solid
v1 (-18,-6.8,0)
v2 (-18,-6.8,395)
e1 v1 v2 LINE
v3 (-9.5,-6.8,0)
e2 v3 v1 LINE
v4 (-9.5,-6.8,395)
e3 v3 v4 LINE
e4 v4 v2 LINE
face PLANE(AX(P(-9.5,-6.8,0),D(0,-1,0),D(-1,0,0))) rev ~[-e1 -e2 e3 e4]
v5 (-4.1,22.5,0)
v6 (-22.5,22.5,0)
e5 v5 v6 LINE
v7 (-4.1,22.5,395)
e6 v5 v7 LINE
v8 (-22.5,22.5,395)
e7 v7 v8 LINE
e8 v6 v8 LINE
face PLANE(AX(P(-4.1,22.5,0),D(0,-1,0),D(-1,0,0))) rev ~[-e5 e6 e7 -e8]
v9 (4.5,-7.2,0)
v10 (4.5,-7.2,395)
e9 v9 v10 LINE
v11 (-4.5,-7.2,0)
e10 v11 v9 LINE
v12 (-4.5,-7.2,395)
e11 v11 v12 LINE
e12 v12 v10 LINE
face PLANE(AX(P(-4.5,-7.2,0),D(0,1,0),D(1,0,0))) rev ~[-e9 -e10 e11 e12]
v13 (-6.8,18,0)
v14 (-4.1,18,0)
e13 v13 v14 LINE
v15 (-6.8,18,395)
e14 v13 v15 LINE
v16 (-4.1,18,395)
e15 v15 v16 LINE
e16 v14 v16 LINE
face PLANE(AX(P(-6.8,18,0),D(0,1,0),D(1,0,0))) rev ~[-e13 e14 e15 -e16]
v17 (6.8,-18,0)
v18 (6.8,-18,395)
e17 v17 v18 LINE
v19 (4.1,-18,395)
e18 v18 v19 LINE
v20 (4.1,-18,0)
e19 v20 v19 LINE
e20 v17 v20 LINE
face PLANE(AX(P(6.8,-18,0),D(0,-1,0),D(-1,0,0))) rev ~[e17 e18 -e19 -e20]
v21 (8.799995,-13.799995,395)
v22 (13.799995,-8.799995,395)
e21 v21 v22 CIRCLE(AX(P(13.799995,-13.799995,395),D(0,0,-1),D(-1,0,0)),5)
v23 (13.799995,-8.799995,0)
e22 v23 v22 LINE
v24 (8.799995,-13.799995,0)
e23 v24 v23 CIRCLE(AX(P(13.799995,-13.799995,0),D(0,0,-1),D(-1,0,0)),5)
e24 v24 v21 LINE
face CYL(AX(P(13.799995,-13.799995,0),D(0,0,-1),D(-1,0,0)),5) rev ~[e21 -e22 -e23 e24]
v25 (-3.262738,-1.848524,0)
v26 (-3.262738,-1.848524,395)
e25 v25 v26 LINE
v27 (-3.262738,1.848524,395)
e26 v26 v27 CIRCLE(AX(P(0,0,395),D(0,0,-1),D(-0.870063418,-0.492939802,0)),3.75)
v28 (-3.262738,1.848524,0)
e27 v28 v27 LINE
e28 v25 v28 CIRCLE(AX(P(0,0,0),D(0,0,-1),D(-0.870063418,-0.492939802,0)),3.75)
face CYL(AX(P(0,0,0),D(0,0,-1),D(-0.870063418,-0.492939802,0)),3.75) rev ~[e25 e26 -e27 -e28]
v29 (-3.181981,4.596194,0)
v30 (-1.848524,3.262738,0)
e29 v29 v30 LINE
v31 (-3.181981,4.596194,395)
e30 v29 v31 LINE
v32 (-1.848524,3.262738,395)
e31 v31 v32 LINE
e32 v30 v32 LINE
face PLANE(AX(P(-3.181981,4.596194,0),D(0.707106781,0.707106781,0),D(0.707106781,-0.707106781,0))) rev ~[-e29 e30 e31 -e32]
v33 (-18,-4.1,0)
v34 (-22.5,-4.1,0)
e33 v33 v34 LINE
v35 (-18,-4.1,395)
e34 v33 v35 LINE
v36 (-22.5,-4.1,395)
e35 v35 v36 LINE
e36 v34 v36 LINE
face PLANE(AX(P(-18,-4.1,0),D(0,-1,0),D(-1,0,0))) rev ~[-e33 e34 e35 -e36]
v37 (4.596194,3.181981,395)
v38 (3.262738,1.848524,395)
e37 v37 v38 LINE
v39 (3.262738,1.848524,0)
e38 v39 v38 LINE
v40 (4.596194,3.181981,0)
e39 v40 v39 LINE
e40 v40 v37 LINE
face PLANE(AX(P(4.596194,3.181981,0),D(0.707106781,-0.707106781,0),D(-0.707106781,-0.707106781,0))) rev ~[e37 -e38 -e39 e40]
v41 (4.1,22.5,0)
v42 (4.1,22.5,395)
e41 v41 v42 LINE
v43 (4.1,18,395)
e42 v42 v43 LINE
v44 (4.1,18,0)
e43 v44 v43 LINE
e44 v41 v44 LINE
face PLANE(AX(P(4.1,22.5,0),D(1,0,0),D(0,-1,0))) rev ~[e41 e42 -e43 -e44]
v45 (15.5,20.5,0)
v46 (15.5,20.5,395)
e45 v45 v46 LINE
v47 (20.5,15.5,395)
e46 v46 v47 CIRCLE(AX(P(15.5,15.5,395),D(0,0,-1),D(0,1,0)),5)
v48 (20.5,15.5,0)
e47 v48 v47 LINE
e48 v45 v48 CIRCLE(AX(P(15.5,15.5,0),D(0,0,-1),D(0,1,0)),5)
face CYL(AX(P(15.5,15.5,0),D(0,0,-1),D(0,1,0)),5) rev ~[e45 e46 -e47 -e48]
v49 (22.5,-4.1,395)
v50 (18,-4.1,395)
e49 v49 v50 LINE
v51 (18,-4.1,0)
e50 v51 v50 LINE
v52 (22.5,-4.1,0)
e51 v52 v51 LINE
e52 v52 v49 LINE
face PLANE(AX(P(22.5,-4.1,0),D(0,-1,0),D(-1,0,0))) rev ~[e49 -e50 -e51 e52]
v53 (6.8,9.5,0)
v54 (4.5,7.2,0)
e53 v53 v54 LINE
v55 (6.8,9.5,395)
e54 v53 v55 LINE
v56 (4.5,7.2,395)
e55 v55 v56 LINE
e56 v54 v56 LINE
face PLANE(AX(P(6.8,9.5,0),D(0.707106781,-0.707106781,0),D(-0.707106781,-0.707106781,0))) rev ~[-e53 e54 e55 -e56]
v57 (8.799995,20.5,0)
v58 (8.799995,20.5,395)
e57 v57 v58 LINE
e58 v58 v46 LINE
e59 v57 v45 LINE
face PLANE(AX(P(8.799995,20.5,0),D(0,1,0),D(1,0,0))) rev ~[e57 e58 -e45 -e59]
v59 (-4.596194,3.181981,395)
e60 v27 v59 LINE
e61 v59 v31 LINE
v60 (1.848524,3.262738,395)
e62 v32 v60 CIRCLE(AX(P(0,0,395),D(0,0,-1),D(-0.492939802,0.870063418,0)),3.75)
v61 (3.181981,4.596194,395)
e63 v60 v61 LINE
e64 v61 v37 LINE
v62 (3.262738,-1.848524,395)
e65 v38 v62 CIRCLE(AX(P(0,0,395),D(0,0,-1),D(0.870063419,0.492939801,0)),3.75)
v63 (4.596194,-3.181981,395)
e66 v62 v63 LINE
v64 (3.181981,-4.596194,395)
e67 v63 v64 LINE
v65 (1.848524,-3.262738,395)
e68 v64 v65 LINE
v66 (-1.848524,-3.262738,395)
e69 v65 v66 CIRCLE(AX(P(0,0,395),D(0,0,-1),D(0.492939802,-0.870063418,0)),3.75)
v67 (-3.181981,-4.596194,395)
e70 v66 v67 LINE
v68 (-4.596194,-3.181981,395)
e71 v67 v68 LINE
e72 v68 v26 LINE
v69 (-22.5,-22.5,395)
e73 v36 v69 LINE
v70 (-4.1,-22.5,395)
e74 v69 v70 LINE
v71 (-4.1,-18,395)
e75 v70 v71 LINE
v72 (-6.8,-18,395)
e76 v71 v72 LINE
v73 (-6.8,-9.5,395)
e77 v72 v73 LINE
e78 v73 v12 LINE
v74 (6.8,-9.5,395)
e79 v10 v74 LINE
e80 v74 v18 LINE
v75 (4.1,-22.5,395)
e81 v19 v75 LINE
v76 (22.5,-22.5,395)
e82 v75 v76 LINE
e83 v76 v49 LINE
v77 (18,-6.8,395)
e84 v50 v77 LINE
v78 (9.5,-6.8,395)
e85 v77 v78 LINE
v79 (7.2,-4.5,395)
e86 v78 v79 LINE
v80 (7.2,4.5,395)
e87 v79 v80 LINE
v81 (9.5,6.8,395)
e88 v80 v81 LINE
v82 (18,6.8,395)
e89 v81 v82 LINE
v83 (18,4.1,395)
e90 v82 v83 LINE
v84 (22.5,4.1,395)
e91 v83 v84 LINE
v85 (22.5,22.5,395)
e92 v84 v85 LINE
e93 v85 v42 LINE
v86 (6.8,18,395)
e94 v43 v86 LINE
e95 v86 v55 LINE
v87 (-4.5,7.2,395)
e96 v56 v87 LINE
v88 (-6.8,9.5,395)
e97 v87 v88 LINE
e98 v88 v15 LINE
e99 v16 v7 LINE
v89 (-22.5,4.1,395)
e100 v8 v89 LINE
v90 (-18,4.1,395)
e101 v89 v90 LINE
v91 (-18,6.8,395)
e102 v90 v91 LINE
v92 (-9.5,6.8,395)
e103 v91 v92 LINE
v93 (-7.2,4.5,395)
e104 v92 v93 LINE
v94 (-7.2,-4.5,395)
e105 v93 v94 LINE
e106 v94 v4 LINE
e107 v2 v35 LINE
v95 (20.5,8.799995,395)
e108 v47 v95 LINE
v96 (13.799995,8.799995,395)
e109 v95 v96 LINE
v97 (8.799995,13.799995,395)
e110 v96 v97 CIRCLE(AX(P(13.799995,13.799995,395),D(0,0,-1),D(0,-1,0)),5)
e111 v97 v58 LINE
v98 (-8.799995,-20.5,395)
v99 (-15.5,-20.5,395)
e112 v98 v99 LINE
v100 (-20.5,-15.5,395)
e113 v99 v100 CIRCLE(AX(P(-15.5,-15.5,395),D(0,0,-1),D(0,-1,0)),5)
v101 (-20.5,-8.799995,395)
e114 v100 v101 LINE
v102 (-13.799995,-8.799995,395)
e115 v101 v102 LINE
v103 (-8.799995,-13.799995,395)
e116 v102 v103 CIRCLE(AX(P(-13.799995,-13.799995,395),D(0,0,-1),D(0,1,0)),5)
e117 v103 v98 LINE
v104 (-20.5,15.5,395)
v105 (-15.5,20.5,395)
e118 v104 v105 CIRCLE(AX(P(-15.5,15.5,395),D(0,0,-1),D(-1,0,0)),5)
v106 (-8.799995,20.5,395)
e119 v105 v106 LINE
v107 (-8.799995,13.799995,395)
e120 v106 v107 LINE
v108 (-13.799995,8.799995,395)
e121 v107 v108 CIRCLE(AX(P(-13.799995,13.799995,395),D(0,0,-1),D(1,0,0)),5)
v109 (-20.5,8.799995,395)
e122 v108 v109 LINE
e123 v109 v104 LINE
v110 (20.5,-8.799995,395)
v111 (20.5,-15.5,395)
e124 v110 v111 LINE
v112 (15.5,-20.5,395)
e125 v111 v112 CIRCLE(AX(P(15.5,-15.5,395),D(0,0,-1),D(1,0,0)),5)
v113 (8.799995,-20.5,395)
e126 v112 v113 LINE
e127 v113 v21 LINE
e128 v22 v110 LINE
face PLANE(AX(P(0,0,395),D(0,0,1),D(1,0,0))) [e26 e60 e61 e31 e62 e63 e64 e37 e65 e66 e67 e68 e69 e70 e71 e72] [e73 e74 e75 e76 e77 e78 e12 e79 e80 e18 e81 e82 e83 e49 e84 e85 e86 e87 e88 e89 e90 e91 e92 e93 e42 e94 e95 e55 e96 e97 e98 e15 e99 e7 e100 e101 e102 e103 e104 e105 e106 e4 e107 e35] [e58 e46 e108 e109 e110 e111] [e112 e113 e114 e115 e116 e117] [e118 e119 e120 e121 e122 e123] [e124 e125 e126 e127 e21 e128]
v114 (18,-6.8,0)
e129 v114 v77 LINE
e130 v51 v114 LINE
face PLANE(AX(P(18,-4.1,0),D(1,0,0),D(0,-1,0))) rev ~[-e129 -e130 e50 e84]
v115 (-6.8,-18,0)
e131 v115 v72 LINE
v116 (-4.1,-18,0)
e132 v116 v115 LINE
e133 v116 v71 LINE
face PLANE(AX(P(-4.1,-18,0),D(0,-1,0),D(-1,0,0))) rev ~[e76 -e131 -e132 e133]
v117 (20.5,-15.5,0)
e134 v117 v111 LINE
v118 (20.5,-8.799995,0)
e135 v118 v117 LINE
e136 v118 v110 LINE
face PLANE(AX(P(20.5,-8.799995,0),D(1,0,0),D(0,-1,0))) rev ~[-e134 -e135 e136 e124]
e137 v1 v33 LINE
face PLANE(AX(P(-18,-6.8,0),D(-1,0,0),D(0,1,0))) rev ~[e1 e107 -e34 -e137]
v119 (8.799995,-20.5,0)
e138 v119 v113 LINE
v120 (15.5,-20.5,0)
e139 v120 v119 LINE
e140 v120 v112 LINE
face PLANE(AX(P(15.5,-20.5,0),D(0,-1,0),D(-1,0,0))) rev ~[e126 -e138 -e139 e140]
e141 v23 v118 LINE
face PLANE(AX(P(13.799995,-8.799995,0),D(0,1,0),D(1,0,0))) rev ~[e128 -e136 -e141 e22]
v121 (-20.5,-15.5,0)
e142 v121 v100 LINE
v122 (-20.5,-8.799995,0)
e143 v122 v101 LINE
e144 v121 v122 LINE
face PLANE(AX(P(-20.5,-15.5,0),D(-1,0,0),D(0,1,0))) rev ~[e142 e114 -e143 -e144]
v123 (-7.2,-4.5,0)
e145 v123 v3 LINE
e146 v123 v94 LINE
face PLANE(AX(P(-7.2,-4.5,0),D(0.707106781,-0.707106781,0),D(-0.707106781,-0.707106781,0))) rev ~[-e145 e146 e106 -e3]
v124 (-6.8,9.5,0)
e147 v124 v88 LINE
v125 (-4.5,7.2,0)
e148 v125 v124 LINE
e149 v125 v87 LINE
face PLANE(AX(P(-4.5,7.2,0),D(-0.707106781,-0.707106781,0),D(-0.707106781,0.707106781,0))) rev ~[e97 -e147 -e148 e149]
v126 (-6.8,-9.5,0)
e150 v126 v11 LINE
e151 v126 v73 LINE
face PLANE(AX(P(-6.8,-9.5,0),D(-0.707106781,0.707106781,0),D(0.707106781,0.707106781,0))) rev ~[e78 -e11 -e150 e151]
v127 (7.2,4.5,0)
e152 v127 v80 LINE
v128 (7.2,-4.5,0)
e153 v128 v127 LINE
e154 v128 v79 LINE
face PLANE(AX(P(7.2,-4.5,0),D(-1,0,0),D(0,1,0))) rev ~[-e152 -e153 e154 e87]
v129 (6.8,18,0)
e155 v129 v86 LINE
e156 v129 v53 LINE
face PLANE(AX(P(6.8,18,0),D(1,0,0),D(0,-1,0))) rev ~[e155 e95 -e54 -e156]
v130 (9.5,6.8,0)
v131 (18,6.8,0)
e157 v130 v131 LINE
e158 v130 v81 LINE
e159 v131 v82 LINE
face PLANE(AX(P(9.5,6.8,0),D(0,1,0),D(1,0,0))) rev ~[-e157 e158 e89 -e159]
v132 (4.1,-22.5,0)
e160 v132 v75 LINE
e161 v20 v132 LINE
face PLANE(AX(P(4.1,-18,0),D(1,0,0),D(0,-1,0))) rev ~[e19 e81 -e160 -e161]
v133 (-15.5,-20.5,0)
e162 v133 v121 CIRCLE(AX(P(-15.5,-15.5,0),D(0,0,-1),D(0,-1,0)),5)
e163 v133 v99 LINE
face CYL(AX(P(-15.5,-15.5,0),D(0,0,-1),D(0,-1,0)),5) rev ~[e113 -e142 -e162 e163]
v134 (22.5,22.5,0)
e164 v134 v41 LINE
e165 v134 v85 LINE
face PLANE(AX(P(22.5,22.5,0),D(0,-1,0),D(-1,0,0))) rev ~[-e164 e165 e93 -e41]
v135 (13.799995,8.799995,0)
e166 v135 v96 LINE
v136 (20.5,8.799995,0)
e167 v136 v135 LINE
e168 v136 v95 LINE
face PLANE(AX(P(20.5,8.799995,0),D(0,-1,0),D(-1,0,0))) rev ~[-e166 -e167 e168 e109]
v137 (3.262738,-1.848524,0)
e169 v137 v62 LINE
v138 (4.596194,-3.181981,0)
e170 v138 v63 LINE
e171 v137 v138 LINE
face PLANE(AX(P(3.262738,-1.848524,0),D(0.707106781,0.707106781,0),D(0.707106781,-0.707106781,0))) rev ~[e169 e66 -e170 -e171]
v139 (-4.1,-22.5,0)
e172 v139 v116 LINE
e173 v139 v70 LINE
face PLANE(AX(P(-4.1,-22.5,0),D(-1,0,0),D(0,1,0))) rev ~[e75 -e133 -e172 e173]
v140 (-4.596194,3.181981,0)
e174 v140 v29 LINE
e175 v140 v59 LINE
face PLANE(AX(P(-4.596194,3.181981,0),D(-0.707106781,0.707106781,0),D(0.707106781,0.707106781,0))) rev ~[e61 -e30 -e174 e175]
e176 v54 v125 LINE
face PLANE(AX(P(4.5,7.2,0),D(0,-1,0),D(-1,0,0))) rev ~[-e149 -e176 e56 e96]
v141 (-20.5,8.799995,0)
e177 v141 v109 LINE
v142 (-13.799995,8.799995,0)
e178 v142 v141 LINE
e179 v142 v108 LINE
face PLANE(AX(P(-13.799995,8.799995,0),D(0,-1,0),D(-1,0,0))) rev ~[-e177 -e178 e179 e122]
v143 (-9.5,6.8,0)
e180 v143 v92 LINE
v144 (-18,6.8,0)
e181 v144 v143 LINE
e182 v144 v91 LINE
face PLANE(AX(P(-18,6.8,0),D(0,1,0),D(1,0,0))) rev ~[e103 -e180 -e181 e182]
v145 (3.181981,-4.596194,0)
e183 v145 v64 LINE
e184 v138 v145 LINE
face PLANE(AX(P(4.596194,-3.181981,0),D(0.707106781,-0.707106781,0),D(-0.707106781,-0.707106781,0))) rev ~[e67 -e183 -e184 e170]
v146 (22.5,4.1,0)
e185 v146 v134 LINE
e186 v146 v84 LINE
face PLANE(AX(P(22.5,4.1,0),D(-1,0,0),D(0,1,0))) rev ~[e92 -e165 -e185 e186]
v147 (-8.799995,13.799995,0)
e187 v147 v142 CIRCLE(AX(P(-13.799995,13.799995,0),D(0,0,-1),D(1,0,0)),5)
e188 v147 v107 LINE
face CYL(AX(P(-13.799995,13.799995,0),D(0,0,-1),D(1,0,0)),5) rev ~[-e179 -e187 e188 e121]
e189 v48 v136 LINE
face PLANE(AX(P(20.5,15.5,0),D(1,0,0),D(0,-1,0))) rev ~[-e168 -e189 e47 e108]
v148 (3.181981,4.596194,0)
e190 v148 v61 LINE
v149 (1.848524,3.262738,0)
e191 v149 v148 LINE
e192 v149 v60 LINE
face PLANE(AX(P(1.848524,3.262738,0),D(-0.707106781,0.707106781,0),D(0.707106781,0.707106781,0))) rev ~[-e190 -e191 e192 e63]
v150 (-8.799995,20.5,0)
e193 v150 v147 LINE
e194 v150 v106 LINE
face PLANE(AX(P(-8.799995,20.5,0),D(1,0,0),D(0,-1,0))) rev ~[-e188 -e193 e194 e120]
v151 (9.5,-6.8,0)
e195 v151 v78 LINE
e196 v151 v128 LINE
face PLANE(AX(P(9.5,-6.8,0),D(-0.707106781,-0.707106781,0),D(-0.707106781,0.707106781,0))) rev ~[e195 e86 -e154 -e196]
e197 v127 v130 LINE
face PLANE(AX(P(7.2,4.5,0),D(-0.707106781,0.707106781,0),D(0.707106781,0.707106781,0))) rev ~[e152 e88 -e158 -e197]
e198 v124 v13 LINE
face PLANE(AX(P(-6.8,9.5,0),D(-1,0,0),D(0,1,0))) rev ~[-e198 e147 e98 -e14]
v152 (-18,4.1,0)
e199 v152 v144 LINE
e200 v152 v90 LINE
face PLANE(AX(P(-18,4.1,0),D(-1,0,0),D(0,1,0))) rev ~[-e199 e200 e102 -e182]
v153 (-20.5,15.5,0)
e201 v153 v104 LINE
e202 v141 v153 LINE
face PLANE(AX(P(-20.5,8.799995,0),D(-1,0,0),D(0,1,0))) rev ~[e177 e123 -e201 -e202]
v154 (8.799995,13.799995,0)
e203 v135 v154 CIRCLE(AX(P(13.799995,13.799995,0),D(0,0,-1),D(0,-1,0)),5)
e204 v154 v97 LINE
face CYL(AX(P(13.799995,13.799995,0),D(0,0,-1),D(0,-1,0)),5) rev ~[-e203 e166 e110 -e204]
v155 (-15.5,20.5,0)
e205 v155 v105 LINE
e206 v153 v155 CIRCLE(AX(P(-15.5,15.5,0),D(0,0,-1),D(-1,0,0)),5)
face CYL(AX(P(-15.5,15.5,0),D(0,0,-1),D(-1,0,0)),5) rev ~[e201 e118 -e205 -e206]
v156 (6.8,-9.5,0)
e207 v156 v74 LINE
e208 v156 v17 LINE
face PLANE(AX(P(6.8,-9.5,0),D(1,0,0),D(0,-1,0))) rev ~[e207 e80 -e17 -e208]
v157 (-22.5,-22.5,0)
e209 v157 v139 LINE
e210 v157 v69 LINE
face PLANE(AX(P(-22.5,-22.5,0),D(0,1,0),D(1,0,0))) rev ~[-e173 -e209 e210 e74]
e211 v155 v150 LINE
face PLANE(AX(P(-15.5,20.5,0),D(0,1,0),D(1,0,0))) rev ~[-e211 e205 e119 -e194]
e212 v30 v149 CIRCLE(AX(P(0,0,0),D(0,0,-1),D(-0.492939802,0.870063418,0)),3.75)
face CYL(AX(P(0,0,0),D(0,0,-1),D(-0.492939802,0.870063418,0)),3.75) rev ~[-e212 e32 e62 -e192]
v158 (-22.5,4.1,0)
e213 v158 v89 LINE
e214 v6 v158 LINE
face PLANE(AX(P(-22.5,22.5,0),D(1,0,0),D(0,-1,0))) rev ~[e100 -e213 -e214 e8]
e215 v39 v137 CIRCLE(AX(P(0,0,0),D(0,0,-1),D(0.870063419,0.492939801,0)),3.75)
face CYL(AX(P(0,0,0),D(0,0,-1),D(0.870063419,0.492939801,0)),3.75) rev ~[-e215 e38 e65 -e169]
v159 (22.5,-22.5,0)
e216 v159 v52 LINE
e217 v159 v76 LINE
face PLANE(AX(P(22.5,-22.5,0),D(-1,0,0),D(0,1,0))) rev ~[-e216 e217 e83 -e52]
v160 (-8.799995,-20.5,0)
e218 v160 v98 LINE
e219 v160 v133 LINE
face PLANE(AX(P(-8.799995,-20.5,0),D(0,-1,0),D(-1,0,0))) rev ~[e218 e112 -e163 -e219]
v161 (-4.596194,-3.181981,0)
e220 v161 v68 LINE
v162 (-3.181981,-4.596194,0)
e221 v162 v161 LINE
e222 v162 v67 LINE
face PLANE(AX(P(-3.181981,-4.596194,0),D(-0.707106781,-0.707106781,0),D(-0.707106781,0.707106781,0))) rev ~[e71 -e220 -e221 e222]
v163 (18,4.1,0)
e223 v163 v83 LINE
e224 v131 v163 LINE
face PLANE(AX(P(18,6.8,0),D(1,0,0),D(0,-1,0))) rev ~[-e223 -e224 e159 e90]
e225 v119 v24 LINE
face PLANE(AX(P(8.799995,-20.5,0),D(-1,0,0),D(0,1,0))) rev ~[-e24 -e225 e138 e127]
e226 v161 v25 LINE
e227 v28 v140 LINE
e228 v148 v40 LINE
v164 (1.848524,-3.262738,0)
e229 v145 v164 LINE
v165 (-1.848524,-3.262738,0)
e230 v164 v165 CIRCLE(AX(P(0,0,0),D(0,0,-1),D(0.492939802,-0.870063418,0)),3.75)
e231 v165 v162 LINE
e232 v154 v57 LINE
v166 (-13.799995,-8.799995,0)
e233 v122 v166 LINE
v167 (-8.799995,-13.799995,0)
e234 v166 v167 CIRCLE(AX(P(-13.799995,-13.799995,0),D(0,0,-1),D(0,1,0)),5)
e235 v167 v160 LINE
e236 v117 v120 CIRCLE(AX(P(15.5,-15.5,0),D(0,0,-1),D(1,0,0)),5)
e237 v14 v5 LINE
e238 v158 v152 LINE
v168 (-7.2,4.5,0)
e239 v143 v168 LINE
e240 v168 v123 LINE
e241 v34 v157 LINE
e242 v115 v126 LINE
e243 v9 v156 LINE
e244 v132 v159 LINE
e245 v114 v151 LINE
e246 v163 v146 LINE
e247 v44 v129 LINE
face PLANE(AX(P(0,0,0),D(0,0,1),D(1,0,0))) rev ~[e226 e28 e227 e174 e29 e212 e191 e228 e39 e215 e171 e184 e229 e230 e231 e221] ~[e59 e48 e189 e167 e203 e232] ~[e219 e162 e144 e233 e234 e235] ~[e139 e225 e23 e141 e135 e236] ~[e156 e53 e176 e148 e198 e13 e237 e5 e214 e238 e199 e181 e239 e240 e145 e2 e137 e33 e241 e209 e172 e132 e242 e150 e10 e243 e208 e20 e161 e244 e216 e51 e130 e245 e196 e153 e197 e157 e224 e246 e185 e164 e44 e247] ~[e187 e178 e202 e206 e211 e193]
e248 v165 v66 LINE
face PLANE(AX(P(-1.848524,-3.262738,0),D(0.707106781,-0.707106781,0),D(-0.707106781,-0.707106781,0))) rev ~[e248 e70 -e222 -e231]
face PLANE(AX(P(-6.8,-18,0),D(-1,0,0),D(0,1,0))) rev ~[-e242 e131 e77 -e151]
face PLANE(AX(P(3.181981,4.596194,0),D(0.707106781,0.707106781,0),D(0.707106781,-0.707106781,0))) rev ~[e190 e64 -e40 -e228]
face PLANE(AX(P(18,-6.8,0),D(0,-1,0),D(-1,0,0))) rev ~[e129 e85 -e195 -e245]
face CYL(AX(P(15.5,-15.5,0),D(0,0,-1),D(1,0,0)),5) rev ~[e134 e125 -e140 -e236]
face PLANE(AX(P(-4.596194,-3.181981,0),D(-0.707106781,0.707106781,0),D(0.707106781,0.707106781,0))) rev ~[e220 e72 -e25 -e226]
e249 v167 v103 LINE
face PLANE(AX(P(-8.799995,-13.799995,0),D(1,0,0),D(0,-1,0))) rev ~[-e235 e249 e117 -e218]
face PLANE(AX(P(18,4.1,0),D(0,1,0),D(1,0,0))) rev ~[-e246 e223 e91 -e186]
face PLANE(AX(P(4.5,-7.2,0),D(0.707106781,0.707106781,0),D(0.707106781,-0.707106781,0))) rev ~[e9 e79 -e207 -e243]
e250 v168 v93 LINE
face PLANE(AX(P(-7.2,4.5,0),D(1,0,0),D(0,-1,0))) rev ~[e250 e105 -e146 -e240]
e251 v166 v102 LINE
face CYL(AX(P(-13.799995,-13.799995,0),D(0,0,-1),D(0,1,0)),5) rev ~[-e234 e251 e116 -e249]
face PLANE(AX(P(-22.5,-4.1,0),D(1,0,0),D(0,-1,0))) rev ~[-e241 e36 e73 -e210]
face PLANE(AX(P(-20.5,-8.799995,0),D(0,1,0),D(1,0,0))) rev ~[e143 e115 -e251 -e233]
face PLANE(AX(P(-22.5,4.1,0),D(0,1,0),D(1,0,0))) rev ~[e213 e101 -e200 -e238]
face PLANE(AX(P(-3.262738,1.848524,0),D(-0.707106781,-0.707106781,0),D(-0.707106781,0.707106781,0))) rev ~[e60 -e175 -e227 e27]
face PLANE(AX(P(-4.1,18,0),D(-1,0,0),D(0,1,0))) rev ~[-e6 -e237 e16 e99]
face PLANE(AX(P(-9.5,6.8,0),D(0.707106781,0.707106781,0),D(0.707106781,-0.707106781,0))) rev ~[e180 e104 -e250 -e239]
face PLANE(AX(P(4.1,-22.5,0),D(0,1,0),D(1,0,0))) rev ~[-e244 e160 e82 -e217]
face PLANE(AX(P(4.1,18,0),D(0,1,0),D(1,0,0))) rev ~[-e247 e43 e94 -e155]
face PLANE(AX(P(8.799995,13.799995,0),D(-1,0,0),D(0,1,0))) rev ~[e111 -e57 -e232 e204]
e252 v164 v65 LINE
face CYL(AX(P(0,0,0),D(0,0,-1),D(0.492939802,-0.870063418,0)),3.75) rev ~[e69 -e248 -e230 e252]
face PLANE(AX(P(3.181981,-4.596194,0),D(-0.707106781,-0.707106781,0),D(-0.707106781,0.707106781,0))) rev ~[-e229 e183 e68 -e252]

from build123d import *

# Parameters (mm, degrees)
BOSS_EXTRUDE1_DEPTH = 395


with BuildPart() as part:
    # Sketch1 → Boss-Extrude1 (new body)
    with BuildSketch(Plane.XY):
        Polygon((-17.999999991, -6.799999991), (-17.999999991, -4.099999991), (-22.499999991, -4.099999991), (-22.499999991, -22.499999991), (-4.099999991, -22.499999991), (-4.099999991, -17.999999991), (-6.799999991, -17.999999991), (-6.799999991, -9.499999991), (-4.499999991, -7.199999991), (4.500000009, -7.199999991), (6.800000009, -9.499999991), (6.800000009, -17.999999991), (4.100000009, -17.999999991), (4.100000009, -22.499999991), (22.500000009, -22.499999991), (22.500000009, -4.099999991), (18.000000009, -4.099999991), (18.000000009, -6.799999991), (9.500000009, -6.799999991), (7.200000009, -4.499999991), (7.200000009, 4.500000009), (9.500000009, 6.800000009), (18.000000009, 6.800000009), (18.000000009, 4.100000009), (22.500000009, 4.100000009), (22.500000009, 22.500000009), (4.100000009, 22.500000009), (4.100000009, 18.000000009), (6.800000009, 18.000000009), (6.800000009, 9.500000009), (4.500000009, 7.200000009), (-4.499999991, 7.200000009), (-6.799999991, 9.500000009), (-6.799999991, 18.000000009), (-4.099999991, 18.000000009), (-4.099999991, 22.500000009), (-22.499999991, 22.500000009), (-22.499999991, 4.100000009), (-17.999999991, 4.100000009), (-17.999999991, 6.800000009), (-9.499999991, 6.800000009), (-7.199999991, 4.500000009), (-7.199999991, -4.499999991), (-9.499999991, -6.799999991), align=None)
        with BuildLine():
            Line((-20.499999973, 8.799995438), (-20.499999973, 15.500000009))
            ThreePointArc((-20.499999973, 15.500000009), (-19.035533879, 19.035533915), (-15.499999973, 20.500000009))
            Line((-15.499999973, 20.500000009), (-8.799995402, 20.500000009))
            Line((-8.799995402, 20.500000009), (-8.799995402, 13.799995438))
            ThreePointArc((-8.799995402, 13.799995438), (-10.264461496, 10.264461532), (-13.799995402, 8.799995438))
            Line((-13.799995402, 8.799995438), (-20.499999973, 8.799995438))
        make_face(mode=Mode.SUBTRACT)
        with BuildLine():
            Line((20.500000009, 8.79999542), (13.799995438, 8.79999542))
            ThreePointArc((13.799995438, 8.79999542), (10.264461532, 10.264461514), (8.799995438, 13.79999542))
            Line((8.799995438, 13.79999542), (8.799995438, 20.499999991))
            Line((8.799995438, 20.499999991), (15.500000009, 20.499999991))
            ThreePointArc((15.500000009, 20.499999991), (19.035533915, 19.035533897), (20.500000009, 15.499999991))
            Line((20.500000009, 15.499999991), (20.500000009, 8.79999542))
        make_face(mode=Mode.SUBTRACT)
        with BuildLine():
            Line((15.499999991, -20.499999991), (8.79999542, -20.499999991))
            Line((8.79999542, -20.499999991), (8.79999542, -13.79999542))
            ThreePointArc((8.79999542, -13.79999542), (10.264461514, -10.264461514), (13.79999542, -8.79999542))
            Line((13.79999542, -8.79999542), (20.499999991, -8.79999542))
            Line((20.499999991, -8.79999542), (20.499999991, -15.499999991))
            ThreePointArc((20.499999991, -15.499999991), (19.035533897, -19.035533897), (15.499999991, -20.499999991))
        make_face(mode=Mode.SUBTRACT)
        with BuildLine():
            Line((-8.79999542, -20.499999973), (-15.499999991, -20.499999973))
            ThreePointArc((-15.499999991, -20.499999973), (-19.035533897, -19.035533879), (-20.499999991, -15.499999973))
            Line((-20.499999991, -15.499999973), (-20.499999991, -8.799995402))
            Line((-20.499999991, -8.799995402), (-13.79999542, -8.799995402))
            ThreePointArc((-13.79999542, -8.799995402), (-10.264461514, -10.264461496), (-8.79999542, -13.799995402))
            Line((-8.79999542, -13.799995402), (-8.79999542, -20.499999973))
        make_face(mode=Mode.SUBTRACT)
        with BuildLine():
            Line((-3.262737816, 1.848524254), (-4.596194076, 3.181980514))
            Line((-4.596194076, 3.181980514), (-3.181980513, 4.596194076))
            Line((-3.181980513, 4.596194076), (-1.848524253, 3.262737816))
            ThreePointArc((-1.848524253, 3.262737816), (2e-09, 3.749999997), (1.848524257, 3.262737816))
            Line((1.848524257, 3.262737816), (3.181980517, 4.596194076))
            Line((3.181980517, 4.596194076), (4.59619408, 3.181980513))
            Line((4.59619408, 3.181980513), (3.26273782, 1.848524253))
            ThreePointArc((3.26273782, 1.848524253), (3.75, -2e-09), (3.262737819, -1.848524257))
            Line((3.262737819, -1.848524257), (4.596194079, -3.181980517))
            Line((4.596194079, -3.181980517), (3.181980517, -4.596194079))
            Line((3.181980517, -4.596194079), (1.848524257, -3.262737819))
            ThreePointArc((1.848524257, -3.262737819), (2e-09, -3.75), (-1.848524253, -3.262737819))
            Line((-1.848524253, -3.262737819), (-3.181980515, -4.596194081))
            Line((-3.181980515, -4.596194081), (-4.596194078, -3.181980518))
            Line((-4.596194078, -3.181980518), (-3.262737816, -1.848524257))
            ThreePointArc((-3.262737816, -1.848524257), (-3.749999997, -2e-09), (-3.262737816, 1.848524254))
        make_face(mode=Mode.SUBTRACT)
    extrude(amount=BOSS_EXTRUDE1_DEPTH)


solid = part.part
